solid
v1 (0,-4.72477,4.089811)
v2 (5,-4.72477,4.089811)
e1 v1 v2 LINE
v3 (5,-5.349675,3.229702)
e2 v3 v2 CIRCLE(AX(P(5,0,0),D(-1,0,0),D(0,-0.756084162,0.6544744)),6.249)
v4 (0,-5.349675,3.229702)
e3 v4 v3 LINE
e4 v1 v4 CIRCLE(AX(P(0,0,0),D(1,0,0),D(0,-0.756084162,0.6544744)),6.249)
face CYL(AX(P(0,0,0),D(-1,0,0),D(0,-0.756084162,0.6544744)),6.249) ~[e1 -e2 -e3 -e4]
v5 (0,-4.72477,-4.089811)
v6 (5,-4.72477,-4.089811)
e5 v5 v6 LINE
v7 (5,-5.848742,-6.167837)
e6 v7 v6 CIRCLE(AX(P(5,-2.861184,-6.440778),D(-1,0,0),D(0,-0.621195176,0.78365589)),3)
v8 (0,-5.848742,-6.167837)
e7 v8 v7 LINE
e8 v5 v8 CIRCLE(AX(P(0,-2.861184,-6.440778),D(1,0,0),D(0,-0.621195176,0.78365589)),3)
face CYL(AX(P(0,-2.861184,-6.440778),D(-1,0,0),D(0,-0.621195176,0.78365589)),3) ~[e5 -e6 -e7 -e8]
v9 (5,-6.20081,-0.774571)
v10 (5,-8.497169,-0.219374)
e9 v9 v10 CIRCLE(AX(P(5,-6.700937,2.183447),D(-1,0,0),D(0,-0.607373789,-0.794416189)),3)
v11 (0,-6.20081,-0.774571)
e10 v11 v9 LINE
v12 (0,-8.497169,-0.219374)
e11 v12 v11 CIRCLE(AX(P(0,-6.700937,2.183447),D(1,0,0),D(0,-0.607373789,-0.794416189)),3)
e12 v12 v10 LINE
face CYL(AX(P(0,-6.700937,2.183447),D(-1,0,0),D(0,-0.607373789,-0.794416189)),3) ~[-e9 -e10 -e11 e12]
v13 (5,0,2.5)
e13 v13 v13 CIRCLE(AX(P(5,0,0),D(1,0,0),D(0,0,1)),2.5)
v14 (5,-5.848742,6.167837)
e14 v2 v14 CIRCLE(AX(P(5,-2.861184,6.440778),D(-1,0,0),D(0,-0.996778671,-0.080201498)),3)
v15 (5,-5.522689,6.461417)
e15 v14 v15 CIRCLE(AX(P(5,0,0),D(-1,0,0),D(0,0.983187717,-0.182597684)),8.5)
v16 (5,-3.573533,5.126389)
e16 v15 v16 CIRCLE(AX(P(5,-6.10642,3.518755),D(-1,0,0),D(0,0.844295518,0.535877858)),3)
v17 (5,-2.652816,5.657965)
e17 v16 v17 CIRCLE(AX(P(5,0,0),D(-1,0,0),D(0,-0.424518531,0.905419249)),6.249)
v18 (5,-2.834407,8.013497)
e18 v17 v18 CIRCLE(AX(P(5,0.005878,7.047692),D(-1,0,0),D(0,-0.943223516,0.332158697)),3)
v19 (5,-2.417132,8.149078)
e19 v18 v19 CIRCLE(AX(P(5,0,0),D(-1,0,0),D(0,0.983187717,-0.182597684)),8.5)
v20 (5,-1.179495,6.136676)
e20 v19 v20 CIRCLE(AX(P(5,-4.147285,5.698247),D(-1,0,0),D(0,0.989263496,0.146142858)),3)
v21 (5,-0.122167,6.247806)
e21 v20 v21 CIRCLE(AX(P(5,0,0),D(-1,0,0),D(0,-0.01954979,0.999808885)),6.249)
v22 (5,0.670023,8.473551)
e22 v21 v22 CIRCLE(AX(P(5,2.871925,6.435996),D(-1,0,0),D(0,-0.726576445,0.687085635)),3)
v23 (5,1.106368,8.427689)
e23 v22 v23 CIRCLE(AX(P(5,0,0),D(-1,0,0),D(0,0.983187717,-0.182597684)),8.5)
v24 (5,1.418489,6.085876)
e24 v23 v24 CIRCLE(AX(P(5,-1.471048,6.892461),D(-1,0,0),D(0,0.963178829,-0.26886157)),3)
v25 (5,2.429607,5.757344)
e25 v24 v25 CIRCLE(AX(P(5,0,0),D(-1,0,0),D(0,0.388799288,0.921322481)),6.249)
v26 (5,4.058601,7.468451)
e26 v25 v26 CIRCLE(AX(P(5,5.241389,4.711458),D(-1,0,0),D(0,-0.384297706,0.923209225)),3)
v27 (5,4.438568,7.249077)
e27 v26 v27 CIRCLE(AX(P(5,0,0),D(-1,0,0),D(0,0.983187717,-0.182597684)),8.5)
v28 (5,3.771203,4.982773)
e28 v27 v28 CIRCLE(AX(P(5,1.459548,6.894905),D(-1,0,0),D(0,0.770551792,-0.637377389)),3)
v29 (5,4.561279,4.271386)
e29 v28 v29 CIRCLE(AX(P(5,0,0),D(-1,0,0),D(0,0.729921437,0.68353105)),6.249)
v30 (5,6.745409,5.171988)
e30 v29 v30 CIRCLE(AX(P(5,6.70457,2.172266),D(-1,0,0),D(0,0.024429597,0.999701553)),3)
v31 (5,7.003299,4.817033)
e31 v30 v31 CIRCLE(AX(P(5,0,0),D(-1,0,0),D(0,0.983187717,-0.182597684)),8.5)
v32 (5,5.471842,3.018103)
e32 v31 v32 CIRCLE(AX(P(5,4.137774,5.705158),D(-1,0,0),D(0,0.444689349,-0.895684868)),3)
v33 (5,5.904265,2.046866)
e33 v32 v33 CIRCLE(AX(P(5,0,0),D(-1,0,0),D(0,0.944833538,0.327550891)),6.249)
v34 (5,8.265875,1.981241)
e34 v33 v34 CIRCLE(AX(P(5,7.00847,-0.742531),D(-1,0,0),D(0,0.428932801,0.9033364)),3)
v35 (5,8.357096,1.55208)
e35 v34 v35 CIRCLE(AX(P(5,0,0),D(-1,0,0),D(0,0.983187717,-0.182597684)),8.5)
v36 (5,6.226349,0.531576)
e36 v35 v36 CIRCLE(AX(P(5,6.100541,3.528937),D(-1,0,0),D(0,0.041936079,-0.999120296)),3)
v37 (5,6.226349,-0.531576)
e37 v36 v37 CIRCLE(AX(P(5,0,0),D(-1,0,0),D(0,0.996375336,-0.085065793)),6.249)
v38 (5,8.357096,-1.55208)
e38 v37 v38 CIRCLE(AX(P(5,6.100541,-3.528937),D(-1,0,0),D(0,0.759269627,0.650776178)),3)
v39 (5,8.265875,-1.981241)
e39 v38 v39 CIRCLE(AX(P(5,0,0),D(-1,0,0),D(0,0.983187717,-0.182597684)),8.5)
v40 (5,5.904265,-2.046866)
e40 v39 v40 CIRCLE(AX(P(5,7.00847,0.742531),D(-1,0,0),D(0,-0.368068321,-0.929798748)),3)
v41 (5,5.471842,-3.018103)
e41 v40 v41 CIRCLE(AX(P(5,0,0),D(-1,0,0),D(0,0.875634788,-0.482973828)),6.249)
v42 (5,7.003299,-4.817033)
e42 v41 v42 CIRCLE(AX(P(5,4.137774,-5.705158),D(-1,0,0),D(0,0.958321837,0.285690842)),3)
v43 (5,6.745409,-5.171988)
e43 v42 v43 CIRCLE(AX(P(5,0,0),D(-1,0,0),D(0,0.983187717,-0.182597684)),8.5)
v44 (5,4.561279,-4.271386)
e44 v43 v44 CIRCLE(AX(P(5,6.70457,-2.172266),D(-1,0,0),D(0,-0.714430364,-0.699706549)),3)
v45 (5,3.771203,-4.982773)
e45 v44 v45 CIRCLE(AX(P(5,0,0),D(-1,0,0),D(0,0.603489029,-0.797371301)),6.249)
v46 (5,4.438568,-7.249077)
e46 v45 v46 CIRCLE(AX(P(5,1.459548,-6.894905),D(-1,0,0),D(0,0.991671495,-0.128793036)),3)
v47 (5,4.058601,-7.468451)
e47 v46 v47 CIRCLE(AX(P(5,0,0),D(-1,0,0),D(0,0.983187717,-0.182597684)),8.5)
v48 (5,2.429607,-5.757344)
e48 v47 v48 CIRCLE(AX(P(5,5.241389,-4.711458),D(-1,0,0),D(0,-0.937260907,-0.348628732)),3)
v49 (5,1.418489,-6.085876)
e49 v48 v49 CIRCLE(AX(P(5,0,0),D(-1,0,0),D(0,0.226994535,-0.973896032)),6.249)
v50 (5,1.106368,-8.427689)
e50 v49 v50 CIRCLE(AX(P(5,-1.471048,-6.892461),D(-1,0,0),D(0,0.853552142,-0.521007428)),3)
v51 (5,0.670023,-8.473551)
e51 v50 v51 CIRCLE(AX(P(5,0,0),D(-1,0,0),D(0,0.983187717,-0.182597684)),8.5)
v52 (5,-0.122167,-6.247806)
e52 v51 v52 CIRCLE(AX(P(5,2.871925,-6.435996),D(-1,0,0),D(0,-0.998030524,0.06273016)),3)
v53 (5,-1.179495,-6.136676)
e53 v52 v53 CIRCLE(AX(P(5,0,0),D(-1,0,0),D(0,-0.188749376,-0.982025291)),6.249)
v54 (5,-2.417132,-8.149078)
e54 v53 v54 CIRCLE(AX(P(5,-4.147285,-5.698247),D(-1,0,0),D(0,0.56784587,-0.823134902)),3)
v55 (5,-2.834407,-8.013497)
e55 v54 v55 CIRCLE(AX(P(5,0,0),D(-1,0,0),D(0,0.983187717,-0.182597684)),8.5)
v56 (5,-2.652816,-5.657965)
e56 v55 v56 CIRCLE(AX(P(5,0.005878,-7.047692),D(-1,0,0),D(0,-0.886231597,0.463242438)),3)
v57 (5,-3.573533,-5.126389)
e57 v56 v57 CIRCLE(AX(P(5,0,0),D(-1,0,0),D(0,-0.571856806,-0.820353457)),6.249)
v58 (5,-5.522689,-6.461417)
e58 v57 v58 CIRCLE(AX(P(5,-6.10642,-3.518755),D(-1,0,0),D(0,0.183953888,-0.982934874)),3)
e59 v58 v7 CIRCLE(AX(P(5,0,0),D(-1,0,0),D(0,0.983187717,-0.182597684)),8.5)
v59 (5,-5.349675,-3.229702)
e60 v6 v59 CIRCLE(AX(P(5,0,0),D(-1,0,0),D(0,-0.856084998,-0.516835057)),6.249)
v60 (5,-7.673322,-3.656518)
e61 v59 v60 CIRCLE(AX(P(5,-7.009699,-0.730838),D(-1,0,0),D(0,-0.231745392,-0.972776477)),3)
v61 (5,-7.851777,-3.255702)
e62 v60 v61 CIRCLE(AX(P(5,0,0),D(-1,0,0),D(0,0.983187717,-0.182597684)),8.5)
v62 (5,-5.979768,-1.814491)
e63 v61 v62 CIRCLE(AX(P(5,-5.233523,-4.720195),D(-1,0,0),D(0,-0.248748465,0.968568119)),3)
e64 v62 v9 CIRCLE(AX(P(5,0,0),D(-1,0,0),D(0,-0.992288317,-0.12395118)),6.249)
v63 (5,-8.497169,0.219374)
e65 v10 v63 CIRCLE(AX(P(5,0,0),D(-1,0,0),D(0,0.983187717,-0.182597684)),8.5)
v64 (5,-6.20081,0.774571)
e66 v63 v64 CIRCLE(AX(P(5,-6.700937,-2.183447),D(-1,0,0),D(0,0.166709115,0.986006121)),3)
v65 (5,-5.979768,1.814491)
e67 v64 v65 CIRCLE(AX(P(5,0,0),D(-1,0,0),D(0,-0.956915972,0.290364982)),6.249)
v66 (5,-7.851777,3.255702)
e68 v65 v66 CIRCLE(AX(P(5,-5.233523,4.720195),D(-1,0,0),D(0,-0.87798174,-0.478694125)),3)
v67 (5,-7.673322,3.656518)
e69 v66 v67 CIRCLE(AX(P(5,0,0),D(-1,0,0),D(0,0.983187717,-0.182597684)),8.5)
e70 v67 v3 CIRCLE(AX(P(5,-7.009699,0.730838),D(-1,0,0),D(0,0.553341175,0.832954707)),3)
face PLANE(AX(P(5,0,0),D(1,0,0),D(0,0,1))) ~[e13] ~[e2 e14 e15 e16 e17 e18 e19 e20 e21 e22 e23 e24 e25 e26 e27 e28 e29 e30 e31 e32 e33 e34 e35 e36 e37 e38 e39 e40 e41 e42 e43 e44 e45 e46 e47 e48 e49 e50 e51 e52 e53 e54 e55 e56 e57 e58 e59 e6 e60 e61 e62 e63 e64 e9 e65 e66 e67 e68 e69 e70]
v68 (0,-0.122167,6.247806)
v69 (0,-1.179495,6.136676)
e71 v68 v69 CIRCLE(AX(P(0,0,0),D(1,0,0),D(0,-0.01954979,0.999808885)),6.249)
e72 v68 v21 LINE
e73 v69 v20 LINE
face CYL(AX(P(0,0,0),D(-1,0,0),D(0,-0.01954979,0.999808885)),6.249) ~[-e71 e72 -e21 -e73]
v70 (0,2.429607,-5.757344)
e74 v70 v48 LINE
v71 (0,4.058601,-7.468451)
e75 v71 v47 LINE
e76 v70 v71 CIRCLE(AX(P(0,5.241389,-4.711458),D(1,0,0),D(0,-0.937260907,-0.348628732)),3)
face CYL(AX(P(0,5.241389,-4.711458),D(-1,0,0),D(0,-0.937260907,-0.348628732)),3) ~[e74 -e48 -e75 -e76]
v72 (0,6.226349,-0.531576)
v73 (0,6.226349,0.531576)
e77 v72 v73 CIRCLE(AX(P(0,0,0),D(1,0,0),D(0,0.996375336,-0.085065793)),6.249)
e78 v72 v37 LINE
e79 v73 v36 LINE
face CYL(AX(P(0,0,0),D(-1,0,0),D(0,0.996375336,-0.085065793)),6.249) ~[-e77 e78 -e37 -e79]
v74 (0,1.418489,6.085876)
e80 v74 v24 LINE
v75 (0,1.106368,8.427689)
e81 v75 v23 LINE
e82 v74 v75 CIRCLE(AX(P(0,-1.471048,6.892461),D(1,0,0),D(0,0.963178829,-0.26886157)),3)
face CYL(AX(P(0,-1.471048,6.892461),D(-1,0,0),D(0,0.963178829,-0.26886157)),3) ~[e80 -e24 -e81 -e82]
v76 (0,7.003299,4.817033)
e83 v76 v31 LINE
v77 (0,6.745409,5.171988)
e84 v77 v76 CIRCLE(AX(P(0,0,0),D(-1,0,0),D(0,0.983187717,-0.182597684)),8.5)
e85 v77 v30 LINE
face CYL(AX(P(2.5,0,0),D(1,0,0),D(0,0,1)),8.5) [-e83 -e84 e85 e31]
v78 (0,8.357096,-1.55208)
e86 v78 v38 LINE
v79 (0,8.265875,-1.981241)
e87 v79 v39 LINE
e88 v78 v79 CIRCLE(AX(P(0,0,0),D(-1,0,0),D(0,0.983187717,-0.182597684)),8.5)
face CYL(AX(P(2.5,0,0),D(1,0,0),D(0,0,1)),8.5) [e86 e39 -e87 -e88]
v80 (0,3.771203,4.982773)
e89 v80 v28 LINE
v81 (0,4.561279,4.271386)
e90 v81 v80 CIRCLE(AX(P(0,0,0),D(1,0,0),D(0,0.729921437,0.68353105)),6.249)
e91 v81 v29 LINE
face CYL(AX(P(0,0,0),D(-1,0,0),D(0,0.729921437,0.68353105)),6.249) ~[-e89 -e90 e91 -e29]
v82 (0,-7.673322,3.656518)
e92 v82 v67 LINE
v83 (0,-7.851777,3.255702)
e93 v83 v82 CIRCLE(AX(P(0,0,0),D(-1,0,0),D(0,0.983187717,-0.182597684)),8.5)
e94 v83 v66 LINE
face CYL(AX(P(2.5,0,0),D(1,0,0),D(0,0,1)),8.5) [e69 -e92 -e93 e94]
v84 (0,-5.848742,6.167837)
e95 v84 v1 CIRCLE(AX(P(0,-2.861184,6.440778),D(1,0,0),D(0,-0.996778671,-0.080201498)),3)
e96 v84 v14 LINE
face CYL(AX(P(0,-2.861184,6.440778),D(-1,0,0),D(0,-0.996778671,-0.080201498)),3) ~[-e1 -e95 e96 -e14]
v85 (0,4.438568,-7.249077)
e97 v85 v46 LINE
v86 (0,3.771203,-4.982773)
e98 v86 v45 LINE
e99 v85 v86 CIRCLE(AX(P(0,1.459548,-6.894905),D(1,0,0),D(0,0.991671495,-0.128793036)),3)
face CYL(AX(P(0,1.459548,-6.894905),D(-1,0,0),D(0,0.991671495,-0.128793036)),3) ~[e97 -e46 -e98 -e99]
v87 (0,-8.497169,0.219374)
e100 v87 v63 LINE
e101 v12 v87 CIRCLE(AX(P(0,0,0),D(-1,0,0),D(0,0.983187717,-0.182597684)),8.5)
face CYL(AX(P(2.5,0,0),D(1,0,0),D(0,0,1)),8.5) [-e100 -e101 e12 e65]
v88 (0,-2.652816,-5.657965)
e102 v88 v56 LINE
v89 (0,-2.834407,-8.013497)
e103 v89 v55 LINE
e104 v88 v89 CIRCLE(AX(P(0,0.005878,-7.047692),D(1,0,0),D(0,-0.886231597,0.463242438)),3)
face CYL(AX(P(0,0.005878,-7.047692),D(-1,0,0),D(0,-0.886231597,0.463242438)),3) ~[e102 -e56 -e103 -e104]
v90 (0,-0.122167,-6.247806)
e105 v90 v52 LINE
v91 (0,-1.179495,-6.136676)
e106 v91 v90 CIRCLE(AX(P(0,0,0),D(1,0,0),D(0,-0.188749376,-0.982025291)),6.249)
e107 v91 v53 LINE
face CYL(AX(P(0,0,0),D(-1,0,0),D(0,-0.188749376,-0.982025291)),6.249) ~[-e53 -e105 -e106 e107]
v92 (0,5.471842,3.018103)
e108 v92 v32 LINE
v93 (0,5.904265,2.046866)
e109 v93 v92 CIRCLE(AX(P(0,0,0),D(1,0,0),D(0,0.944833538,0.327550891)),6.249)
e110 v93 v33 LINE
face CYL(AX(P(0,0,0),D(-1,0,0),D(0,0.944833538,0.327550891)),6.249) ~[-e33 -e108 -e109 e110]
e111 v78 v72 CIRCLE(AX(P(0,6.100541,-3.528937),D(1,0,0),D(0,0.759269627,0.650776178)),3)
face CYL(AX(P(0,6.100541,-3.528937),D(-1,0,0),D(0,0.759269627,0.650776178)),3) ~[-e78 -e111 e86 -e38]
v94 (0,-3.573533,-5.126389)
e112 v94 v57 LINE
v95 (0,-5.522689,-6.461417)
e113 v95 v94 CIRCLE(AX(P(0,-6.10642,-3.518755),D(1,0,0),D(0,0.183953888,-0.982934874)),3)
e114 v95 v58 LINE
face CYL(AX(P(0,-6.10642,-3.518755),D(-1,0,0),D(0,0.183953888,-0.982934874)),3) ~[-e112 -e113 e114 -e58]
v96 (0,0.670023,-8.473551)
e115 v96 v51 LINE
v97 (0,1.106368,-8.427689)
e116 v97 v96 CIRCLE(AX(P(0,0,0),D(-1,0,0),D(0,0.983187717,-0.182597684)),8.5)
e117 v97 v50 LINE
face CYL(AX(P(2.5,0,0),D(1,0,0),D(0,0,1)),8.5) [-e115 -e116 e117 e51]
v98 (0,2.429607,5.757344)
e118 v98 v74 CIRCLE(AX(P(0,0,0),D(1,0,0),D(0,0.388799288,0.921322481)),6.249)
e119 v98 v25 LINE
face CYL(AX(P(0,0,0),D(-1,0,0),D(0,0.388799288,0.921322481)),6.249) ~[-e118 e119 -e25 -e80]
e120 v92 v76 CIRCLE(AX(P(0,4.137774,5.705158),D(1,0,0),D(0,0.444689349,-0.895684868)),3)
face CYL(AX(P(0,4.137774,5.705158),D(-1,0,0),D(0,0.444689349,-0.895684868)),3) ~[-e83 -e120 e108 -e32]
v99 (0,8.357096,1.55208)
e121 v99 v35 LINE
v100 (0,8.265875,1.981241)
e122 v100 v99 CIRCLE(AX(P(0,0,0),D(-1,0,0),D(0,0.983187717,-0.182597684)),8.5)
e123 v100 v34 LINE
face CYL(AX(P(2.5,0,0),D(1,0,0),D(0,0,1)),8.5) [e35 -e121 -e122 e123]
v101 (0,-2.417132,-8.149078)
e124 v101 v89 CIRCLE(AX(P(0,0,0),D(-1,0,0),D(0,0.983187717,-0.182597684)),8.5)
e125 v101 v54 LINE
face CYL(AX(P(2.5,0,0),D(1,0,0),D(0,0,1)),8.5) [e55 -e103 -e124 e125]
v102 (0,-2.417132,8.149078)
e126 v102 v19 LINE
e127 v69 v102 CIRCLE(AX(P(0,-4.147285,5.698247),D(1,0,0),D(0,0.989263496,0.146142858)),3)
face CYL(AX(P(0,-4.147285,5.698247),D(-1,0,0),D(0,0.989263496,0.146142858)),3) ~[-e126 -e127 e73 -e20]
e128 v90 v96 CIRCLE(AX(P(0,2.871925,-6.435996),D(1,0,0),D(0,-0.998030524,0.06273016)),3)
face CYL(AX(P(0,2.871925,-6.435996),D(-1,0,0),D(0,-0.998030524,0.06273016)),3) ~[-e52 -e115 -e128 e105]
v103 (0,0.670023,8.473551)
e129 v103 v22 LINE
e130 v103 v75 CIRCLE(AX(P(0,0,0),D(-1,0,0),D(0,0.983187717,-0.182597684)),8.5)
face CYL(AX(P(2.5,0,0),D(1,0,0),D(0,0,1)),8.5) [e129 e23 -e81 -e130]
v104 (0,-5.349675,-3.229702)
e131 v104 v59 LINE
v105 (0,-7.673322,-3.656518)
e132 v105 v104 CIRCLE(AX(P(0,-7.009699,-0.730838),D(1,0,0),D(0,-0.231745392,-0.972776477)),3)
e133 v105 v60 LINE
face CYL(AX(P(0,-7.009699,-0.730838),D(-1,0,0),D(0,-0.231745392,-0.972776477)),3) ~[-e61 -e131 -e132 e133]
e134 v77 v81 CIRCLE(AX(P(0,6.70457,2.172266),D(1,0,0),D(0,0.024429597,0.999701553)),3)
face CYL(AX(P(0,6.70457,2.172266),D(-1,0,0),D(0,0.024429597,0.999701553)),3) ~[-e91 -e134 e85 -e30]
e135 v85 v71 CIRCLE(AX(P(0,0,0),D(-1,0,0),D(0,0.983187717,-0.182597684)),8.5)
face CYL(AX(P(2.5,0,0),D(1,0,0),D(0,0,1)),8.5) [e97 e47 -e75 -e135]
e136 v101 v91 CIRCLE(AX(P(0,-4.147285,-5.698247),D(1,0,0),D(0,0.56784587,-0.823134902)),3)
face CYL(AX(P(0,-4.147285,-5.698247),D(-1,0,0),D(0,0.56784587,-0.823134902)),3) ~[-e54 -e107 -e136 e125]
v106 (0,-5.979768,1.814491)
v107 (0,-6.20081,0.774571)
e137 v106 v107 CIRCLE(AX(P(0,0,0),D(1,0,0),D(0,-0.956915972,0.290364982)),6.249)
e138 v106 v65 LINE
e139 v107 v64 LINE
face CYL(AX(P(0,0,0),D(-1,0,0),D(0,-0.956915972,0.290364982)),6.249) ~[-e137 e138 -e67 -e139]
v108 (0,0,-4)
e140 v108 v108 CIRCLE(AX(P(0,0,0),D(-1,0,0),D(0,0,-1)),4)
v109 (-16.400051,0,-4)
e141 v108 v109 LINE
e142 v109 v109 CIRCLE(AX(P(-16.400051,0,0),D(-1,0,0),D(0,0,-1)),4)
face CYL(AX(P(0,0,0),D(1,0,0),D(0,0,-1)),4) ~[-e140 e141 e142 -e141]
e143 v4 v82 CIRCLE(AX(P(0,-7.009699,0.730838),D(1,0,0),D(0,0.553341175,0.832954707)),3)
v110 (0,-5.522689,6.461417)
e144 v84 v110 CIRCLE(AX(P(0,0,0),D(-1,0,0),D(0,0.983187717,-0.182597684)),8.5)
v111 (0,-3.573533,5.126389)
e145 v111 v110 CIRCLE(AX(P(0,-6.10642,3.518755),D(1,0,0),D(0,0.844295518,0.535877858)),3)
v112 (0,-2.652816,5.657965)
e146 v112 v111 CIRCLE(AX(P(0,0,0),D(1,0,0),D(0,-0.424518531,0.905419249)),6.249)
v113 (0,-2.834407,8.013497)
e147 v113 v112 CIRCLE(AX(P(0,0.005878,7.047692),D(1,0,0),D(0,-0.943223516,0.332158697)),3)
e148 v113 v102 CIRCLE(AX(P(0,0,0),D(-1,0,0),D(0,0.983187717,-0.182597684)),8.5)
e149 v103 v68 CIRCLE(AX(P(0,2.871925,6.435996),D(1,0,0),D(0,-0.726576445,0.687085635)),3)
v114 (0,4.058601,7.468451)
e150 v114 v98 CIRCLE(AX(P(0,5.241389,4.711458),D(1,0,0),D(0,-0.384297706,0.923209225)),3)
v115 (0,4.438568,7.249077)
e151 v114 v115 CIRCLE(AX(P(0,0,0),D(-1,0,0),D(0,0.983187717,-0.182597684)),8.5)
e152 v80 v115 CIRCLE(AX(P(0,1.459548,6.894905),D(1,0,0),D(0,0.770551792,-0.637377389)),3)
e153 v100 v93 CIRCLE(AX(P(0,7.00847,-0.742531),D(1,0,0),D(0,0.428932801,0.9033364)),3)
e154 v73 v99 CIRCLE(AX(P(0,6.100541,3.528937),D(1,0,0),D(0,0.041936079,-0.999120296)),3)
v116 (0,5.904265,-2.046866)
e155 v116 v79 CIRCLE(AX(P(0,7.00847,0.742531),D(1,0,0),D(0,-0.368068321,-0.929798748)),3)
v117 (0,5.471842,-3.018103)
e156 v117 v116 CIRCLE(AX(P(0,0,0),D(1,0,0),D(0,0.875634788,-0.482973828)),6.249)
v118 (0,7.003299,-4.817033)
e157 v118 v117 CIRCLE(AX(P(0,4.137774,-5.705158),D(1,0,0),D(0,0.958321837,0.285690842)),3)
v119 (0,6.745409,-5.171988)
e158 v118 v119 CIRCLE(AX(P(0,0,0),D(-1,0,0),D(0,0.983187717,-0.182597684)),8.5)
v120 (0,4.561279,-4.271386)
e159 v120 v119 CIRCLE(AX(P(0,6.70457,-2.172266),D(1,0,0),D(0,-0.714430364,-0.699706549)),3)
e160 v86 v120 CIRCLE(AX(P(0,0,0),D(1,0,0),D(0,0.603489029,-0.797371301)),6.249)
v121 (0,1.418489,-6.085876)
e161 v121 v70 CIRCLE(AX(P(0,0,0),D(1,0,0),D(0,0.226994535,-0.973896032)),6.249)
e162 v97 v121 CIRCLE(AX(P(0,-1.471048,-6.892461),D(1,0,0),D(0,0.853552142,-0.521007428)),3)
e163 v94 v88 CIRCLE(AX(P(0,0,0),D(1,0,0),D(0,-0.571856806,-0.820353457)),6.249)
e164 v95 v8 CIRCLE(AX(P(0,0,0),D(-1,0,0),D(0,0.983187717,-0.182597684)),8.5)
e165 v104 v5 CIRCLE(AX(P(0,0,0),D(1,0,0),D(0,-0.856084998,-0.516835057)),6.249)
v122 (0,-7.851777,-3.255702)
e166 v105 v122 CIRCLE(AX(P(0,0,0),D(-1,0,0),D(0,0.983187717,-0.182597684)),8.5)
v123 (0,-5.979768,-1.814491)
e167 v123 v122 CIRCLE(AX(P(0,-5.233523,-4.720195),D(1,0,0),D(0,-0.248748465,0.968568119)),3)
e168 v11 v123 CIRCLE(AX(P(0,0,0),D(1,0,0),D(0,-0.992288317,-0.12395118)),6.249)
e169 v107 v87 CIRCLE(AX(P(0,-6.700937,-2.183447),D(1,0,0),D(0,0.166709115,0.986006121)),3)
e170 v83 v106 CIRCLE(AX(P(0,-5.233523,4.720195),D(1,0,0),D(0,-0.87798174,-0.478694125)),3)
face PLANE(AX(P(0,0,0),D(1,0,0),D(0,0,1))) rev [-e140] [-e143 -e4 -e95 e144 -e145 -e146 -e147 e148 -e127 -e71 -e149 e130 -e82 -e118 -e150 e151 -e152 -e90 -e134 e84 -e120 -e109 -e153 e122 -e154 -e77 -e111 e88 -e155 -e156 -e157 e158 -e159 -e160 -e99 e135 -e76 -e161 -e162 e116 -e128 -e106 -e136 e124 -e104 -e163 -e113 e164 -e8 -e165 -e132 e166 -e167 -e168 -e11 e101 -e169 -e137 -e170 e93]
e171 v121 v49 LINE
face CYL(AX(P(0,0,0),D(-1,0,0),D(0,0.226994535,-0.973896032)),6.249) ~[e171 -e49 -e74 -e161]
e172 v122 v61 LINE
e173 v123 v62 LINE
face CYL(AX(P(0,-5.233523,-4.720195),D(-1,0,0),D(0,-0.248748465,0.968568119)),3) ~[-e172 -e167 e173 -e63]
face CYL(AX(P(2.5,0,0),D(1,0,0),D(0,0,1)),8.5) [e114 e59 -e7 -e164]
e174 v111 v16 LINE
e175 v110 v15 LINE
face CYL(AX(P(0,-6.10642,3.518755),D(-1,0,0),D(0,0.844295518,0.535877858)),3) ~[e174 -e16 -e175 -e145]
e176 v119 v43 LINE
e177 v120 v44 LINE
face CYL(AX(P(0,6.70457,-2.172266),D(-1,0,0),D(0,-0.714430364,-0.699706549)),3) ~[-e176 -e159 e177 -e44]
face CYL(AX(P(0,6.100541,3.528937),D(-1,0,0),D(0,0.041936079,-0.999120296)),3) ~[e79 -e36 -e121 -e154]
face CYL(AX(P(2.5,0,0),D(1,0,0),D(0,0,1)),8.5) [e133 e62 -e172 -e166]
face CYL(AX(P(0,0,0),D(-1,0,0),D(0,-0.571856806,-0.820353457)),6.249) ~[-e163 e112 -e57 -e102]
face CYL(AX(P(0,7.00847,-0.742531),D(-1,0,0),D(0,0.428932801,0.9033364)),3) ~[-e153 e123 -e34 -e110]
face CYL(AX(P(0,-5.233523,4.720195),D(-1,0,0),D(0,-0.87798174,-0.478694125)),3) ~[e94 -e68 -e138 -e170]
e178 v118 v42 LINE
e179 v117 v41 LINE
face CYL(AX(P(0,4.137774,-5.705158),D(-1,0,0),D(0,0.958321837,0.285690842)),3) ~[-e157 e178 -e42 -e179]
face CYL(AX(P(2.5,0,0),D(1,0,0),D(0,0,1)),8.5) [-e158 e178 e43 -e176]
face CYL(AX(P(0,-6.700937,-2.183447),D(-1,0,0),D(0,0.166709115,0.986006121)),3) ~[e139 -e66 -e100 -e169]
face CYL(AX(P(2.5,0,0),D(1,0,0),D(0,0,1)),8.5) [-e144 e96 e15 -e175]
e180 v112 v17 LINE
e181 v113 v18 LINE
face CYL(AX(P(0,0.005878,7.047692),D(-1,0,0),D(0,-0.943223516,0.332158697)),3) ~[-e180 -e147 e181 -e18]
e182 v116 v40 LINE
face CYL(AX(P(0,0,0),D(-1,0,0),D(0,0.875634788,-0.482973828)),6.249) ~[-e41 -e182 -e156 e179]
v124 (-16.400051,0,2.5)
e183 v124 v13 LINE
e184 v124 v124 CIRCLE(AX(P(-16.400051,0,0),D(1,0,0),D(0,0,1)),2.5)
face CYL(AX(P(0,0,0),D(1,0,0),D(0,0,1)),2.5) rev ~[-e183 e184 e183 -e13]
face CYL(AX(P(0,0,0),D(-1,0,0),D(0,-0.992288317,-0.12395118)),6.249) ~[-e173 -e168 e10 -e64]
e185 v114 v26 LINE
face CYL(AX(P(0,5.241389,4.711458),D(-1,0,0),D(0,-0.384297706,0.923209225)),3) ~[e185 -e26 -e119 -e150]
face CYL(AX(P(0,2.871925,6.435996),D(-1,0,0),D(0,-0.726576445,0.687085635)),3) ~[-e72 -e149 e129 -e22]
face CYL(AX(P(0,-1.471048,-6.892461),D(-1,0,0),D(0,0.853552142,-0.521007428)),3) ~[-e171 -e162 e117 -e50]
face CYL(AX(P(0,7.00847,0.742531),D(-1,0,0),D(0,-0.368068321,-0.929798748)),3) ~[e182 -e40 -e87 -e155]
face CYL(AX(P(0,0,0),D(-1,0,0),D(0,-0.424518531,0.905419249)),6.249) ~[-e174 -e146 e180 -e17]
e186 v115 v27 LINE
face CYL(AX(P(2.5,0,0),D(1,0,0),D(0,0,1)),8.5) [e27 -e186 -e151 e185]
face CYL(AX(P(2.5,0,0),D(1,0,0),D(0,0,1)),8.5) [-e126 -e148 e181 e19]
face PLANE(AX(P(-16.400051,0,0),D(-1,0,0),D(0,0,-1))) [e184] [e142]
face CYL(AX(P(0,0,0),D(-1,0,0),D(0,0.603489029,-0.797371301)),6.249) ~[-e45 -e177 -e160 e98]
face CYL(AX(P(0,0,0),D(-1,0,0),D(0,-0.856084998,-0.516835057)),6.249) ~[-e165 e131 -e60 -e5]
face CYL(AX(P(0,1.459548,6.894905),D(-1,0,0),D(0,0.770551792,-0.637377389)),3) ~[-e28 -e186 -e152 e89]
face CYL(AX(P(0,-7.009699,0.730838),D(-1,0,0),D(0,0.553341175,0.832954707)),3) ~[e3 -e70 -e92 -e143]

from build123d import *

# Parameters (mm, degrees)
BASPROSKE_W      = 5
BASPROSKE_H      = 8.5
TOOTHCUT_DEPTH   = 14.019216566
TEETHCUTS_COUNT  = 15
TEETHCUTS_ANGLE  = 336
HUBNEAONESKE_R   = 4
HUBNEARONE_DEPTH = 16.4000508
BORSKE_R         = 2.5
BORE_DEPTH       = 21.4000508


with BuildPart() as part:
    # BasProSke → Base-Revolve (revolve)
    with BuildSketch(Plane(origin=(0, 0, 0), x_dir=(1, 0, 0), z_dir=(0, 1, 0)), mode=Mode.PRIVATE) as base_revolve_sk:
        with Locations((2.5, 4.25)):
            Rectangle(BASPROSKE_W, BASPROSKE_H)
    revolve(base_revolve_sk.sketch.rotate(Axis((-10, 0, 0), (1, 0, 0)), 180), axis=Axis((-10, 0, 0), (1, 0, 0)))

    # TooCutSke → ToothCut (cut, through all)
    with BuildSketch(Plane(origin=(0, 0, 0), x_dir=(0, 0, -1), z_dir=(1, 0, 0))):
        with BuildLine():
            ThreePointArc((0.531576138, 6.226349477), (0, 6.249), (-0.531576138, 6.226349477))
            ThreePointArc((-0.531576138, 6.226349477), (-0.830301624, 7.411024729), (-1.576608494, 8.378350125))
            ThreePointArc((-1.576608494, 8.378350125), (0, 8.5254), (1.576608494, 8.378350125))
            ThreePointArc((1.576608494, 8.378350125), (0.830301624, 7.411024729), (0.531576138, 6.226349477))
        make_face()
    toothcut = extrude(amount=TOOTHCUT_DEPTH, mode=Mode.SUBTRACT)

    # TeethCuts: ToothCut ×15 about axis
    teethcuts_axis = Axis((-10, 0, 0), (1, 0, 0))
    for i in range(1, TEETHCUTS_COUNT):
        add(toothcut.rotate(teethcuts_axis, i * TEETHCUTS_ANGLE / (TEETHCUTS_COUNT - 1)), mode=Mode.SUBTRACT)

    # HubNeaOneSke → HubNearOne (add)
    with BuildSketch(Plane.ZY):
        with Locations(Location((0, 0, 0), (0, 0, 180))):
            Circle(HUBNEAONESKE_R)
    extrude(amount=HUBNEARONE_DEPTH)

    # BorSke → Bore (cut, symmetric)
    with BuildSketch(Plane(origin=(0, 0, 0), x_dir=(0, 0, -1), z_dir=(1, 0, 0))):
        with Locations(Location((0, 0, 0), (0, 0, 180))):
            Circle(BORSKE_R)
    extrude(amount=BORE_DEPTH, both=True, mode=Mode.SUBTRACT)


solid = part.part
